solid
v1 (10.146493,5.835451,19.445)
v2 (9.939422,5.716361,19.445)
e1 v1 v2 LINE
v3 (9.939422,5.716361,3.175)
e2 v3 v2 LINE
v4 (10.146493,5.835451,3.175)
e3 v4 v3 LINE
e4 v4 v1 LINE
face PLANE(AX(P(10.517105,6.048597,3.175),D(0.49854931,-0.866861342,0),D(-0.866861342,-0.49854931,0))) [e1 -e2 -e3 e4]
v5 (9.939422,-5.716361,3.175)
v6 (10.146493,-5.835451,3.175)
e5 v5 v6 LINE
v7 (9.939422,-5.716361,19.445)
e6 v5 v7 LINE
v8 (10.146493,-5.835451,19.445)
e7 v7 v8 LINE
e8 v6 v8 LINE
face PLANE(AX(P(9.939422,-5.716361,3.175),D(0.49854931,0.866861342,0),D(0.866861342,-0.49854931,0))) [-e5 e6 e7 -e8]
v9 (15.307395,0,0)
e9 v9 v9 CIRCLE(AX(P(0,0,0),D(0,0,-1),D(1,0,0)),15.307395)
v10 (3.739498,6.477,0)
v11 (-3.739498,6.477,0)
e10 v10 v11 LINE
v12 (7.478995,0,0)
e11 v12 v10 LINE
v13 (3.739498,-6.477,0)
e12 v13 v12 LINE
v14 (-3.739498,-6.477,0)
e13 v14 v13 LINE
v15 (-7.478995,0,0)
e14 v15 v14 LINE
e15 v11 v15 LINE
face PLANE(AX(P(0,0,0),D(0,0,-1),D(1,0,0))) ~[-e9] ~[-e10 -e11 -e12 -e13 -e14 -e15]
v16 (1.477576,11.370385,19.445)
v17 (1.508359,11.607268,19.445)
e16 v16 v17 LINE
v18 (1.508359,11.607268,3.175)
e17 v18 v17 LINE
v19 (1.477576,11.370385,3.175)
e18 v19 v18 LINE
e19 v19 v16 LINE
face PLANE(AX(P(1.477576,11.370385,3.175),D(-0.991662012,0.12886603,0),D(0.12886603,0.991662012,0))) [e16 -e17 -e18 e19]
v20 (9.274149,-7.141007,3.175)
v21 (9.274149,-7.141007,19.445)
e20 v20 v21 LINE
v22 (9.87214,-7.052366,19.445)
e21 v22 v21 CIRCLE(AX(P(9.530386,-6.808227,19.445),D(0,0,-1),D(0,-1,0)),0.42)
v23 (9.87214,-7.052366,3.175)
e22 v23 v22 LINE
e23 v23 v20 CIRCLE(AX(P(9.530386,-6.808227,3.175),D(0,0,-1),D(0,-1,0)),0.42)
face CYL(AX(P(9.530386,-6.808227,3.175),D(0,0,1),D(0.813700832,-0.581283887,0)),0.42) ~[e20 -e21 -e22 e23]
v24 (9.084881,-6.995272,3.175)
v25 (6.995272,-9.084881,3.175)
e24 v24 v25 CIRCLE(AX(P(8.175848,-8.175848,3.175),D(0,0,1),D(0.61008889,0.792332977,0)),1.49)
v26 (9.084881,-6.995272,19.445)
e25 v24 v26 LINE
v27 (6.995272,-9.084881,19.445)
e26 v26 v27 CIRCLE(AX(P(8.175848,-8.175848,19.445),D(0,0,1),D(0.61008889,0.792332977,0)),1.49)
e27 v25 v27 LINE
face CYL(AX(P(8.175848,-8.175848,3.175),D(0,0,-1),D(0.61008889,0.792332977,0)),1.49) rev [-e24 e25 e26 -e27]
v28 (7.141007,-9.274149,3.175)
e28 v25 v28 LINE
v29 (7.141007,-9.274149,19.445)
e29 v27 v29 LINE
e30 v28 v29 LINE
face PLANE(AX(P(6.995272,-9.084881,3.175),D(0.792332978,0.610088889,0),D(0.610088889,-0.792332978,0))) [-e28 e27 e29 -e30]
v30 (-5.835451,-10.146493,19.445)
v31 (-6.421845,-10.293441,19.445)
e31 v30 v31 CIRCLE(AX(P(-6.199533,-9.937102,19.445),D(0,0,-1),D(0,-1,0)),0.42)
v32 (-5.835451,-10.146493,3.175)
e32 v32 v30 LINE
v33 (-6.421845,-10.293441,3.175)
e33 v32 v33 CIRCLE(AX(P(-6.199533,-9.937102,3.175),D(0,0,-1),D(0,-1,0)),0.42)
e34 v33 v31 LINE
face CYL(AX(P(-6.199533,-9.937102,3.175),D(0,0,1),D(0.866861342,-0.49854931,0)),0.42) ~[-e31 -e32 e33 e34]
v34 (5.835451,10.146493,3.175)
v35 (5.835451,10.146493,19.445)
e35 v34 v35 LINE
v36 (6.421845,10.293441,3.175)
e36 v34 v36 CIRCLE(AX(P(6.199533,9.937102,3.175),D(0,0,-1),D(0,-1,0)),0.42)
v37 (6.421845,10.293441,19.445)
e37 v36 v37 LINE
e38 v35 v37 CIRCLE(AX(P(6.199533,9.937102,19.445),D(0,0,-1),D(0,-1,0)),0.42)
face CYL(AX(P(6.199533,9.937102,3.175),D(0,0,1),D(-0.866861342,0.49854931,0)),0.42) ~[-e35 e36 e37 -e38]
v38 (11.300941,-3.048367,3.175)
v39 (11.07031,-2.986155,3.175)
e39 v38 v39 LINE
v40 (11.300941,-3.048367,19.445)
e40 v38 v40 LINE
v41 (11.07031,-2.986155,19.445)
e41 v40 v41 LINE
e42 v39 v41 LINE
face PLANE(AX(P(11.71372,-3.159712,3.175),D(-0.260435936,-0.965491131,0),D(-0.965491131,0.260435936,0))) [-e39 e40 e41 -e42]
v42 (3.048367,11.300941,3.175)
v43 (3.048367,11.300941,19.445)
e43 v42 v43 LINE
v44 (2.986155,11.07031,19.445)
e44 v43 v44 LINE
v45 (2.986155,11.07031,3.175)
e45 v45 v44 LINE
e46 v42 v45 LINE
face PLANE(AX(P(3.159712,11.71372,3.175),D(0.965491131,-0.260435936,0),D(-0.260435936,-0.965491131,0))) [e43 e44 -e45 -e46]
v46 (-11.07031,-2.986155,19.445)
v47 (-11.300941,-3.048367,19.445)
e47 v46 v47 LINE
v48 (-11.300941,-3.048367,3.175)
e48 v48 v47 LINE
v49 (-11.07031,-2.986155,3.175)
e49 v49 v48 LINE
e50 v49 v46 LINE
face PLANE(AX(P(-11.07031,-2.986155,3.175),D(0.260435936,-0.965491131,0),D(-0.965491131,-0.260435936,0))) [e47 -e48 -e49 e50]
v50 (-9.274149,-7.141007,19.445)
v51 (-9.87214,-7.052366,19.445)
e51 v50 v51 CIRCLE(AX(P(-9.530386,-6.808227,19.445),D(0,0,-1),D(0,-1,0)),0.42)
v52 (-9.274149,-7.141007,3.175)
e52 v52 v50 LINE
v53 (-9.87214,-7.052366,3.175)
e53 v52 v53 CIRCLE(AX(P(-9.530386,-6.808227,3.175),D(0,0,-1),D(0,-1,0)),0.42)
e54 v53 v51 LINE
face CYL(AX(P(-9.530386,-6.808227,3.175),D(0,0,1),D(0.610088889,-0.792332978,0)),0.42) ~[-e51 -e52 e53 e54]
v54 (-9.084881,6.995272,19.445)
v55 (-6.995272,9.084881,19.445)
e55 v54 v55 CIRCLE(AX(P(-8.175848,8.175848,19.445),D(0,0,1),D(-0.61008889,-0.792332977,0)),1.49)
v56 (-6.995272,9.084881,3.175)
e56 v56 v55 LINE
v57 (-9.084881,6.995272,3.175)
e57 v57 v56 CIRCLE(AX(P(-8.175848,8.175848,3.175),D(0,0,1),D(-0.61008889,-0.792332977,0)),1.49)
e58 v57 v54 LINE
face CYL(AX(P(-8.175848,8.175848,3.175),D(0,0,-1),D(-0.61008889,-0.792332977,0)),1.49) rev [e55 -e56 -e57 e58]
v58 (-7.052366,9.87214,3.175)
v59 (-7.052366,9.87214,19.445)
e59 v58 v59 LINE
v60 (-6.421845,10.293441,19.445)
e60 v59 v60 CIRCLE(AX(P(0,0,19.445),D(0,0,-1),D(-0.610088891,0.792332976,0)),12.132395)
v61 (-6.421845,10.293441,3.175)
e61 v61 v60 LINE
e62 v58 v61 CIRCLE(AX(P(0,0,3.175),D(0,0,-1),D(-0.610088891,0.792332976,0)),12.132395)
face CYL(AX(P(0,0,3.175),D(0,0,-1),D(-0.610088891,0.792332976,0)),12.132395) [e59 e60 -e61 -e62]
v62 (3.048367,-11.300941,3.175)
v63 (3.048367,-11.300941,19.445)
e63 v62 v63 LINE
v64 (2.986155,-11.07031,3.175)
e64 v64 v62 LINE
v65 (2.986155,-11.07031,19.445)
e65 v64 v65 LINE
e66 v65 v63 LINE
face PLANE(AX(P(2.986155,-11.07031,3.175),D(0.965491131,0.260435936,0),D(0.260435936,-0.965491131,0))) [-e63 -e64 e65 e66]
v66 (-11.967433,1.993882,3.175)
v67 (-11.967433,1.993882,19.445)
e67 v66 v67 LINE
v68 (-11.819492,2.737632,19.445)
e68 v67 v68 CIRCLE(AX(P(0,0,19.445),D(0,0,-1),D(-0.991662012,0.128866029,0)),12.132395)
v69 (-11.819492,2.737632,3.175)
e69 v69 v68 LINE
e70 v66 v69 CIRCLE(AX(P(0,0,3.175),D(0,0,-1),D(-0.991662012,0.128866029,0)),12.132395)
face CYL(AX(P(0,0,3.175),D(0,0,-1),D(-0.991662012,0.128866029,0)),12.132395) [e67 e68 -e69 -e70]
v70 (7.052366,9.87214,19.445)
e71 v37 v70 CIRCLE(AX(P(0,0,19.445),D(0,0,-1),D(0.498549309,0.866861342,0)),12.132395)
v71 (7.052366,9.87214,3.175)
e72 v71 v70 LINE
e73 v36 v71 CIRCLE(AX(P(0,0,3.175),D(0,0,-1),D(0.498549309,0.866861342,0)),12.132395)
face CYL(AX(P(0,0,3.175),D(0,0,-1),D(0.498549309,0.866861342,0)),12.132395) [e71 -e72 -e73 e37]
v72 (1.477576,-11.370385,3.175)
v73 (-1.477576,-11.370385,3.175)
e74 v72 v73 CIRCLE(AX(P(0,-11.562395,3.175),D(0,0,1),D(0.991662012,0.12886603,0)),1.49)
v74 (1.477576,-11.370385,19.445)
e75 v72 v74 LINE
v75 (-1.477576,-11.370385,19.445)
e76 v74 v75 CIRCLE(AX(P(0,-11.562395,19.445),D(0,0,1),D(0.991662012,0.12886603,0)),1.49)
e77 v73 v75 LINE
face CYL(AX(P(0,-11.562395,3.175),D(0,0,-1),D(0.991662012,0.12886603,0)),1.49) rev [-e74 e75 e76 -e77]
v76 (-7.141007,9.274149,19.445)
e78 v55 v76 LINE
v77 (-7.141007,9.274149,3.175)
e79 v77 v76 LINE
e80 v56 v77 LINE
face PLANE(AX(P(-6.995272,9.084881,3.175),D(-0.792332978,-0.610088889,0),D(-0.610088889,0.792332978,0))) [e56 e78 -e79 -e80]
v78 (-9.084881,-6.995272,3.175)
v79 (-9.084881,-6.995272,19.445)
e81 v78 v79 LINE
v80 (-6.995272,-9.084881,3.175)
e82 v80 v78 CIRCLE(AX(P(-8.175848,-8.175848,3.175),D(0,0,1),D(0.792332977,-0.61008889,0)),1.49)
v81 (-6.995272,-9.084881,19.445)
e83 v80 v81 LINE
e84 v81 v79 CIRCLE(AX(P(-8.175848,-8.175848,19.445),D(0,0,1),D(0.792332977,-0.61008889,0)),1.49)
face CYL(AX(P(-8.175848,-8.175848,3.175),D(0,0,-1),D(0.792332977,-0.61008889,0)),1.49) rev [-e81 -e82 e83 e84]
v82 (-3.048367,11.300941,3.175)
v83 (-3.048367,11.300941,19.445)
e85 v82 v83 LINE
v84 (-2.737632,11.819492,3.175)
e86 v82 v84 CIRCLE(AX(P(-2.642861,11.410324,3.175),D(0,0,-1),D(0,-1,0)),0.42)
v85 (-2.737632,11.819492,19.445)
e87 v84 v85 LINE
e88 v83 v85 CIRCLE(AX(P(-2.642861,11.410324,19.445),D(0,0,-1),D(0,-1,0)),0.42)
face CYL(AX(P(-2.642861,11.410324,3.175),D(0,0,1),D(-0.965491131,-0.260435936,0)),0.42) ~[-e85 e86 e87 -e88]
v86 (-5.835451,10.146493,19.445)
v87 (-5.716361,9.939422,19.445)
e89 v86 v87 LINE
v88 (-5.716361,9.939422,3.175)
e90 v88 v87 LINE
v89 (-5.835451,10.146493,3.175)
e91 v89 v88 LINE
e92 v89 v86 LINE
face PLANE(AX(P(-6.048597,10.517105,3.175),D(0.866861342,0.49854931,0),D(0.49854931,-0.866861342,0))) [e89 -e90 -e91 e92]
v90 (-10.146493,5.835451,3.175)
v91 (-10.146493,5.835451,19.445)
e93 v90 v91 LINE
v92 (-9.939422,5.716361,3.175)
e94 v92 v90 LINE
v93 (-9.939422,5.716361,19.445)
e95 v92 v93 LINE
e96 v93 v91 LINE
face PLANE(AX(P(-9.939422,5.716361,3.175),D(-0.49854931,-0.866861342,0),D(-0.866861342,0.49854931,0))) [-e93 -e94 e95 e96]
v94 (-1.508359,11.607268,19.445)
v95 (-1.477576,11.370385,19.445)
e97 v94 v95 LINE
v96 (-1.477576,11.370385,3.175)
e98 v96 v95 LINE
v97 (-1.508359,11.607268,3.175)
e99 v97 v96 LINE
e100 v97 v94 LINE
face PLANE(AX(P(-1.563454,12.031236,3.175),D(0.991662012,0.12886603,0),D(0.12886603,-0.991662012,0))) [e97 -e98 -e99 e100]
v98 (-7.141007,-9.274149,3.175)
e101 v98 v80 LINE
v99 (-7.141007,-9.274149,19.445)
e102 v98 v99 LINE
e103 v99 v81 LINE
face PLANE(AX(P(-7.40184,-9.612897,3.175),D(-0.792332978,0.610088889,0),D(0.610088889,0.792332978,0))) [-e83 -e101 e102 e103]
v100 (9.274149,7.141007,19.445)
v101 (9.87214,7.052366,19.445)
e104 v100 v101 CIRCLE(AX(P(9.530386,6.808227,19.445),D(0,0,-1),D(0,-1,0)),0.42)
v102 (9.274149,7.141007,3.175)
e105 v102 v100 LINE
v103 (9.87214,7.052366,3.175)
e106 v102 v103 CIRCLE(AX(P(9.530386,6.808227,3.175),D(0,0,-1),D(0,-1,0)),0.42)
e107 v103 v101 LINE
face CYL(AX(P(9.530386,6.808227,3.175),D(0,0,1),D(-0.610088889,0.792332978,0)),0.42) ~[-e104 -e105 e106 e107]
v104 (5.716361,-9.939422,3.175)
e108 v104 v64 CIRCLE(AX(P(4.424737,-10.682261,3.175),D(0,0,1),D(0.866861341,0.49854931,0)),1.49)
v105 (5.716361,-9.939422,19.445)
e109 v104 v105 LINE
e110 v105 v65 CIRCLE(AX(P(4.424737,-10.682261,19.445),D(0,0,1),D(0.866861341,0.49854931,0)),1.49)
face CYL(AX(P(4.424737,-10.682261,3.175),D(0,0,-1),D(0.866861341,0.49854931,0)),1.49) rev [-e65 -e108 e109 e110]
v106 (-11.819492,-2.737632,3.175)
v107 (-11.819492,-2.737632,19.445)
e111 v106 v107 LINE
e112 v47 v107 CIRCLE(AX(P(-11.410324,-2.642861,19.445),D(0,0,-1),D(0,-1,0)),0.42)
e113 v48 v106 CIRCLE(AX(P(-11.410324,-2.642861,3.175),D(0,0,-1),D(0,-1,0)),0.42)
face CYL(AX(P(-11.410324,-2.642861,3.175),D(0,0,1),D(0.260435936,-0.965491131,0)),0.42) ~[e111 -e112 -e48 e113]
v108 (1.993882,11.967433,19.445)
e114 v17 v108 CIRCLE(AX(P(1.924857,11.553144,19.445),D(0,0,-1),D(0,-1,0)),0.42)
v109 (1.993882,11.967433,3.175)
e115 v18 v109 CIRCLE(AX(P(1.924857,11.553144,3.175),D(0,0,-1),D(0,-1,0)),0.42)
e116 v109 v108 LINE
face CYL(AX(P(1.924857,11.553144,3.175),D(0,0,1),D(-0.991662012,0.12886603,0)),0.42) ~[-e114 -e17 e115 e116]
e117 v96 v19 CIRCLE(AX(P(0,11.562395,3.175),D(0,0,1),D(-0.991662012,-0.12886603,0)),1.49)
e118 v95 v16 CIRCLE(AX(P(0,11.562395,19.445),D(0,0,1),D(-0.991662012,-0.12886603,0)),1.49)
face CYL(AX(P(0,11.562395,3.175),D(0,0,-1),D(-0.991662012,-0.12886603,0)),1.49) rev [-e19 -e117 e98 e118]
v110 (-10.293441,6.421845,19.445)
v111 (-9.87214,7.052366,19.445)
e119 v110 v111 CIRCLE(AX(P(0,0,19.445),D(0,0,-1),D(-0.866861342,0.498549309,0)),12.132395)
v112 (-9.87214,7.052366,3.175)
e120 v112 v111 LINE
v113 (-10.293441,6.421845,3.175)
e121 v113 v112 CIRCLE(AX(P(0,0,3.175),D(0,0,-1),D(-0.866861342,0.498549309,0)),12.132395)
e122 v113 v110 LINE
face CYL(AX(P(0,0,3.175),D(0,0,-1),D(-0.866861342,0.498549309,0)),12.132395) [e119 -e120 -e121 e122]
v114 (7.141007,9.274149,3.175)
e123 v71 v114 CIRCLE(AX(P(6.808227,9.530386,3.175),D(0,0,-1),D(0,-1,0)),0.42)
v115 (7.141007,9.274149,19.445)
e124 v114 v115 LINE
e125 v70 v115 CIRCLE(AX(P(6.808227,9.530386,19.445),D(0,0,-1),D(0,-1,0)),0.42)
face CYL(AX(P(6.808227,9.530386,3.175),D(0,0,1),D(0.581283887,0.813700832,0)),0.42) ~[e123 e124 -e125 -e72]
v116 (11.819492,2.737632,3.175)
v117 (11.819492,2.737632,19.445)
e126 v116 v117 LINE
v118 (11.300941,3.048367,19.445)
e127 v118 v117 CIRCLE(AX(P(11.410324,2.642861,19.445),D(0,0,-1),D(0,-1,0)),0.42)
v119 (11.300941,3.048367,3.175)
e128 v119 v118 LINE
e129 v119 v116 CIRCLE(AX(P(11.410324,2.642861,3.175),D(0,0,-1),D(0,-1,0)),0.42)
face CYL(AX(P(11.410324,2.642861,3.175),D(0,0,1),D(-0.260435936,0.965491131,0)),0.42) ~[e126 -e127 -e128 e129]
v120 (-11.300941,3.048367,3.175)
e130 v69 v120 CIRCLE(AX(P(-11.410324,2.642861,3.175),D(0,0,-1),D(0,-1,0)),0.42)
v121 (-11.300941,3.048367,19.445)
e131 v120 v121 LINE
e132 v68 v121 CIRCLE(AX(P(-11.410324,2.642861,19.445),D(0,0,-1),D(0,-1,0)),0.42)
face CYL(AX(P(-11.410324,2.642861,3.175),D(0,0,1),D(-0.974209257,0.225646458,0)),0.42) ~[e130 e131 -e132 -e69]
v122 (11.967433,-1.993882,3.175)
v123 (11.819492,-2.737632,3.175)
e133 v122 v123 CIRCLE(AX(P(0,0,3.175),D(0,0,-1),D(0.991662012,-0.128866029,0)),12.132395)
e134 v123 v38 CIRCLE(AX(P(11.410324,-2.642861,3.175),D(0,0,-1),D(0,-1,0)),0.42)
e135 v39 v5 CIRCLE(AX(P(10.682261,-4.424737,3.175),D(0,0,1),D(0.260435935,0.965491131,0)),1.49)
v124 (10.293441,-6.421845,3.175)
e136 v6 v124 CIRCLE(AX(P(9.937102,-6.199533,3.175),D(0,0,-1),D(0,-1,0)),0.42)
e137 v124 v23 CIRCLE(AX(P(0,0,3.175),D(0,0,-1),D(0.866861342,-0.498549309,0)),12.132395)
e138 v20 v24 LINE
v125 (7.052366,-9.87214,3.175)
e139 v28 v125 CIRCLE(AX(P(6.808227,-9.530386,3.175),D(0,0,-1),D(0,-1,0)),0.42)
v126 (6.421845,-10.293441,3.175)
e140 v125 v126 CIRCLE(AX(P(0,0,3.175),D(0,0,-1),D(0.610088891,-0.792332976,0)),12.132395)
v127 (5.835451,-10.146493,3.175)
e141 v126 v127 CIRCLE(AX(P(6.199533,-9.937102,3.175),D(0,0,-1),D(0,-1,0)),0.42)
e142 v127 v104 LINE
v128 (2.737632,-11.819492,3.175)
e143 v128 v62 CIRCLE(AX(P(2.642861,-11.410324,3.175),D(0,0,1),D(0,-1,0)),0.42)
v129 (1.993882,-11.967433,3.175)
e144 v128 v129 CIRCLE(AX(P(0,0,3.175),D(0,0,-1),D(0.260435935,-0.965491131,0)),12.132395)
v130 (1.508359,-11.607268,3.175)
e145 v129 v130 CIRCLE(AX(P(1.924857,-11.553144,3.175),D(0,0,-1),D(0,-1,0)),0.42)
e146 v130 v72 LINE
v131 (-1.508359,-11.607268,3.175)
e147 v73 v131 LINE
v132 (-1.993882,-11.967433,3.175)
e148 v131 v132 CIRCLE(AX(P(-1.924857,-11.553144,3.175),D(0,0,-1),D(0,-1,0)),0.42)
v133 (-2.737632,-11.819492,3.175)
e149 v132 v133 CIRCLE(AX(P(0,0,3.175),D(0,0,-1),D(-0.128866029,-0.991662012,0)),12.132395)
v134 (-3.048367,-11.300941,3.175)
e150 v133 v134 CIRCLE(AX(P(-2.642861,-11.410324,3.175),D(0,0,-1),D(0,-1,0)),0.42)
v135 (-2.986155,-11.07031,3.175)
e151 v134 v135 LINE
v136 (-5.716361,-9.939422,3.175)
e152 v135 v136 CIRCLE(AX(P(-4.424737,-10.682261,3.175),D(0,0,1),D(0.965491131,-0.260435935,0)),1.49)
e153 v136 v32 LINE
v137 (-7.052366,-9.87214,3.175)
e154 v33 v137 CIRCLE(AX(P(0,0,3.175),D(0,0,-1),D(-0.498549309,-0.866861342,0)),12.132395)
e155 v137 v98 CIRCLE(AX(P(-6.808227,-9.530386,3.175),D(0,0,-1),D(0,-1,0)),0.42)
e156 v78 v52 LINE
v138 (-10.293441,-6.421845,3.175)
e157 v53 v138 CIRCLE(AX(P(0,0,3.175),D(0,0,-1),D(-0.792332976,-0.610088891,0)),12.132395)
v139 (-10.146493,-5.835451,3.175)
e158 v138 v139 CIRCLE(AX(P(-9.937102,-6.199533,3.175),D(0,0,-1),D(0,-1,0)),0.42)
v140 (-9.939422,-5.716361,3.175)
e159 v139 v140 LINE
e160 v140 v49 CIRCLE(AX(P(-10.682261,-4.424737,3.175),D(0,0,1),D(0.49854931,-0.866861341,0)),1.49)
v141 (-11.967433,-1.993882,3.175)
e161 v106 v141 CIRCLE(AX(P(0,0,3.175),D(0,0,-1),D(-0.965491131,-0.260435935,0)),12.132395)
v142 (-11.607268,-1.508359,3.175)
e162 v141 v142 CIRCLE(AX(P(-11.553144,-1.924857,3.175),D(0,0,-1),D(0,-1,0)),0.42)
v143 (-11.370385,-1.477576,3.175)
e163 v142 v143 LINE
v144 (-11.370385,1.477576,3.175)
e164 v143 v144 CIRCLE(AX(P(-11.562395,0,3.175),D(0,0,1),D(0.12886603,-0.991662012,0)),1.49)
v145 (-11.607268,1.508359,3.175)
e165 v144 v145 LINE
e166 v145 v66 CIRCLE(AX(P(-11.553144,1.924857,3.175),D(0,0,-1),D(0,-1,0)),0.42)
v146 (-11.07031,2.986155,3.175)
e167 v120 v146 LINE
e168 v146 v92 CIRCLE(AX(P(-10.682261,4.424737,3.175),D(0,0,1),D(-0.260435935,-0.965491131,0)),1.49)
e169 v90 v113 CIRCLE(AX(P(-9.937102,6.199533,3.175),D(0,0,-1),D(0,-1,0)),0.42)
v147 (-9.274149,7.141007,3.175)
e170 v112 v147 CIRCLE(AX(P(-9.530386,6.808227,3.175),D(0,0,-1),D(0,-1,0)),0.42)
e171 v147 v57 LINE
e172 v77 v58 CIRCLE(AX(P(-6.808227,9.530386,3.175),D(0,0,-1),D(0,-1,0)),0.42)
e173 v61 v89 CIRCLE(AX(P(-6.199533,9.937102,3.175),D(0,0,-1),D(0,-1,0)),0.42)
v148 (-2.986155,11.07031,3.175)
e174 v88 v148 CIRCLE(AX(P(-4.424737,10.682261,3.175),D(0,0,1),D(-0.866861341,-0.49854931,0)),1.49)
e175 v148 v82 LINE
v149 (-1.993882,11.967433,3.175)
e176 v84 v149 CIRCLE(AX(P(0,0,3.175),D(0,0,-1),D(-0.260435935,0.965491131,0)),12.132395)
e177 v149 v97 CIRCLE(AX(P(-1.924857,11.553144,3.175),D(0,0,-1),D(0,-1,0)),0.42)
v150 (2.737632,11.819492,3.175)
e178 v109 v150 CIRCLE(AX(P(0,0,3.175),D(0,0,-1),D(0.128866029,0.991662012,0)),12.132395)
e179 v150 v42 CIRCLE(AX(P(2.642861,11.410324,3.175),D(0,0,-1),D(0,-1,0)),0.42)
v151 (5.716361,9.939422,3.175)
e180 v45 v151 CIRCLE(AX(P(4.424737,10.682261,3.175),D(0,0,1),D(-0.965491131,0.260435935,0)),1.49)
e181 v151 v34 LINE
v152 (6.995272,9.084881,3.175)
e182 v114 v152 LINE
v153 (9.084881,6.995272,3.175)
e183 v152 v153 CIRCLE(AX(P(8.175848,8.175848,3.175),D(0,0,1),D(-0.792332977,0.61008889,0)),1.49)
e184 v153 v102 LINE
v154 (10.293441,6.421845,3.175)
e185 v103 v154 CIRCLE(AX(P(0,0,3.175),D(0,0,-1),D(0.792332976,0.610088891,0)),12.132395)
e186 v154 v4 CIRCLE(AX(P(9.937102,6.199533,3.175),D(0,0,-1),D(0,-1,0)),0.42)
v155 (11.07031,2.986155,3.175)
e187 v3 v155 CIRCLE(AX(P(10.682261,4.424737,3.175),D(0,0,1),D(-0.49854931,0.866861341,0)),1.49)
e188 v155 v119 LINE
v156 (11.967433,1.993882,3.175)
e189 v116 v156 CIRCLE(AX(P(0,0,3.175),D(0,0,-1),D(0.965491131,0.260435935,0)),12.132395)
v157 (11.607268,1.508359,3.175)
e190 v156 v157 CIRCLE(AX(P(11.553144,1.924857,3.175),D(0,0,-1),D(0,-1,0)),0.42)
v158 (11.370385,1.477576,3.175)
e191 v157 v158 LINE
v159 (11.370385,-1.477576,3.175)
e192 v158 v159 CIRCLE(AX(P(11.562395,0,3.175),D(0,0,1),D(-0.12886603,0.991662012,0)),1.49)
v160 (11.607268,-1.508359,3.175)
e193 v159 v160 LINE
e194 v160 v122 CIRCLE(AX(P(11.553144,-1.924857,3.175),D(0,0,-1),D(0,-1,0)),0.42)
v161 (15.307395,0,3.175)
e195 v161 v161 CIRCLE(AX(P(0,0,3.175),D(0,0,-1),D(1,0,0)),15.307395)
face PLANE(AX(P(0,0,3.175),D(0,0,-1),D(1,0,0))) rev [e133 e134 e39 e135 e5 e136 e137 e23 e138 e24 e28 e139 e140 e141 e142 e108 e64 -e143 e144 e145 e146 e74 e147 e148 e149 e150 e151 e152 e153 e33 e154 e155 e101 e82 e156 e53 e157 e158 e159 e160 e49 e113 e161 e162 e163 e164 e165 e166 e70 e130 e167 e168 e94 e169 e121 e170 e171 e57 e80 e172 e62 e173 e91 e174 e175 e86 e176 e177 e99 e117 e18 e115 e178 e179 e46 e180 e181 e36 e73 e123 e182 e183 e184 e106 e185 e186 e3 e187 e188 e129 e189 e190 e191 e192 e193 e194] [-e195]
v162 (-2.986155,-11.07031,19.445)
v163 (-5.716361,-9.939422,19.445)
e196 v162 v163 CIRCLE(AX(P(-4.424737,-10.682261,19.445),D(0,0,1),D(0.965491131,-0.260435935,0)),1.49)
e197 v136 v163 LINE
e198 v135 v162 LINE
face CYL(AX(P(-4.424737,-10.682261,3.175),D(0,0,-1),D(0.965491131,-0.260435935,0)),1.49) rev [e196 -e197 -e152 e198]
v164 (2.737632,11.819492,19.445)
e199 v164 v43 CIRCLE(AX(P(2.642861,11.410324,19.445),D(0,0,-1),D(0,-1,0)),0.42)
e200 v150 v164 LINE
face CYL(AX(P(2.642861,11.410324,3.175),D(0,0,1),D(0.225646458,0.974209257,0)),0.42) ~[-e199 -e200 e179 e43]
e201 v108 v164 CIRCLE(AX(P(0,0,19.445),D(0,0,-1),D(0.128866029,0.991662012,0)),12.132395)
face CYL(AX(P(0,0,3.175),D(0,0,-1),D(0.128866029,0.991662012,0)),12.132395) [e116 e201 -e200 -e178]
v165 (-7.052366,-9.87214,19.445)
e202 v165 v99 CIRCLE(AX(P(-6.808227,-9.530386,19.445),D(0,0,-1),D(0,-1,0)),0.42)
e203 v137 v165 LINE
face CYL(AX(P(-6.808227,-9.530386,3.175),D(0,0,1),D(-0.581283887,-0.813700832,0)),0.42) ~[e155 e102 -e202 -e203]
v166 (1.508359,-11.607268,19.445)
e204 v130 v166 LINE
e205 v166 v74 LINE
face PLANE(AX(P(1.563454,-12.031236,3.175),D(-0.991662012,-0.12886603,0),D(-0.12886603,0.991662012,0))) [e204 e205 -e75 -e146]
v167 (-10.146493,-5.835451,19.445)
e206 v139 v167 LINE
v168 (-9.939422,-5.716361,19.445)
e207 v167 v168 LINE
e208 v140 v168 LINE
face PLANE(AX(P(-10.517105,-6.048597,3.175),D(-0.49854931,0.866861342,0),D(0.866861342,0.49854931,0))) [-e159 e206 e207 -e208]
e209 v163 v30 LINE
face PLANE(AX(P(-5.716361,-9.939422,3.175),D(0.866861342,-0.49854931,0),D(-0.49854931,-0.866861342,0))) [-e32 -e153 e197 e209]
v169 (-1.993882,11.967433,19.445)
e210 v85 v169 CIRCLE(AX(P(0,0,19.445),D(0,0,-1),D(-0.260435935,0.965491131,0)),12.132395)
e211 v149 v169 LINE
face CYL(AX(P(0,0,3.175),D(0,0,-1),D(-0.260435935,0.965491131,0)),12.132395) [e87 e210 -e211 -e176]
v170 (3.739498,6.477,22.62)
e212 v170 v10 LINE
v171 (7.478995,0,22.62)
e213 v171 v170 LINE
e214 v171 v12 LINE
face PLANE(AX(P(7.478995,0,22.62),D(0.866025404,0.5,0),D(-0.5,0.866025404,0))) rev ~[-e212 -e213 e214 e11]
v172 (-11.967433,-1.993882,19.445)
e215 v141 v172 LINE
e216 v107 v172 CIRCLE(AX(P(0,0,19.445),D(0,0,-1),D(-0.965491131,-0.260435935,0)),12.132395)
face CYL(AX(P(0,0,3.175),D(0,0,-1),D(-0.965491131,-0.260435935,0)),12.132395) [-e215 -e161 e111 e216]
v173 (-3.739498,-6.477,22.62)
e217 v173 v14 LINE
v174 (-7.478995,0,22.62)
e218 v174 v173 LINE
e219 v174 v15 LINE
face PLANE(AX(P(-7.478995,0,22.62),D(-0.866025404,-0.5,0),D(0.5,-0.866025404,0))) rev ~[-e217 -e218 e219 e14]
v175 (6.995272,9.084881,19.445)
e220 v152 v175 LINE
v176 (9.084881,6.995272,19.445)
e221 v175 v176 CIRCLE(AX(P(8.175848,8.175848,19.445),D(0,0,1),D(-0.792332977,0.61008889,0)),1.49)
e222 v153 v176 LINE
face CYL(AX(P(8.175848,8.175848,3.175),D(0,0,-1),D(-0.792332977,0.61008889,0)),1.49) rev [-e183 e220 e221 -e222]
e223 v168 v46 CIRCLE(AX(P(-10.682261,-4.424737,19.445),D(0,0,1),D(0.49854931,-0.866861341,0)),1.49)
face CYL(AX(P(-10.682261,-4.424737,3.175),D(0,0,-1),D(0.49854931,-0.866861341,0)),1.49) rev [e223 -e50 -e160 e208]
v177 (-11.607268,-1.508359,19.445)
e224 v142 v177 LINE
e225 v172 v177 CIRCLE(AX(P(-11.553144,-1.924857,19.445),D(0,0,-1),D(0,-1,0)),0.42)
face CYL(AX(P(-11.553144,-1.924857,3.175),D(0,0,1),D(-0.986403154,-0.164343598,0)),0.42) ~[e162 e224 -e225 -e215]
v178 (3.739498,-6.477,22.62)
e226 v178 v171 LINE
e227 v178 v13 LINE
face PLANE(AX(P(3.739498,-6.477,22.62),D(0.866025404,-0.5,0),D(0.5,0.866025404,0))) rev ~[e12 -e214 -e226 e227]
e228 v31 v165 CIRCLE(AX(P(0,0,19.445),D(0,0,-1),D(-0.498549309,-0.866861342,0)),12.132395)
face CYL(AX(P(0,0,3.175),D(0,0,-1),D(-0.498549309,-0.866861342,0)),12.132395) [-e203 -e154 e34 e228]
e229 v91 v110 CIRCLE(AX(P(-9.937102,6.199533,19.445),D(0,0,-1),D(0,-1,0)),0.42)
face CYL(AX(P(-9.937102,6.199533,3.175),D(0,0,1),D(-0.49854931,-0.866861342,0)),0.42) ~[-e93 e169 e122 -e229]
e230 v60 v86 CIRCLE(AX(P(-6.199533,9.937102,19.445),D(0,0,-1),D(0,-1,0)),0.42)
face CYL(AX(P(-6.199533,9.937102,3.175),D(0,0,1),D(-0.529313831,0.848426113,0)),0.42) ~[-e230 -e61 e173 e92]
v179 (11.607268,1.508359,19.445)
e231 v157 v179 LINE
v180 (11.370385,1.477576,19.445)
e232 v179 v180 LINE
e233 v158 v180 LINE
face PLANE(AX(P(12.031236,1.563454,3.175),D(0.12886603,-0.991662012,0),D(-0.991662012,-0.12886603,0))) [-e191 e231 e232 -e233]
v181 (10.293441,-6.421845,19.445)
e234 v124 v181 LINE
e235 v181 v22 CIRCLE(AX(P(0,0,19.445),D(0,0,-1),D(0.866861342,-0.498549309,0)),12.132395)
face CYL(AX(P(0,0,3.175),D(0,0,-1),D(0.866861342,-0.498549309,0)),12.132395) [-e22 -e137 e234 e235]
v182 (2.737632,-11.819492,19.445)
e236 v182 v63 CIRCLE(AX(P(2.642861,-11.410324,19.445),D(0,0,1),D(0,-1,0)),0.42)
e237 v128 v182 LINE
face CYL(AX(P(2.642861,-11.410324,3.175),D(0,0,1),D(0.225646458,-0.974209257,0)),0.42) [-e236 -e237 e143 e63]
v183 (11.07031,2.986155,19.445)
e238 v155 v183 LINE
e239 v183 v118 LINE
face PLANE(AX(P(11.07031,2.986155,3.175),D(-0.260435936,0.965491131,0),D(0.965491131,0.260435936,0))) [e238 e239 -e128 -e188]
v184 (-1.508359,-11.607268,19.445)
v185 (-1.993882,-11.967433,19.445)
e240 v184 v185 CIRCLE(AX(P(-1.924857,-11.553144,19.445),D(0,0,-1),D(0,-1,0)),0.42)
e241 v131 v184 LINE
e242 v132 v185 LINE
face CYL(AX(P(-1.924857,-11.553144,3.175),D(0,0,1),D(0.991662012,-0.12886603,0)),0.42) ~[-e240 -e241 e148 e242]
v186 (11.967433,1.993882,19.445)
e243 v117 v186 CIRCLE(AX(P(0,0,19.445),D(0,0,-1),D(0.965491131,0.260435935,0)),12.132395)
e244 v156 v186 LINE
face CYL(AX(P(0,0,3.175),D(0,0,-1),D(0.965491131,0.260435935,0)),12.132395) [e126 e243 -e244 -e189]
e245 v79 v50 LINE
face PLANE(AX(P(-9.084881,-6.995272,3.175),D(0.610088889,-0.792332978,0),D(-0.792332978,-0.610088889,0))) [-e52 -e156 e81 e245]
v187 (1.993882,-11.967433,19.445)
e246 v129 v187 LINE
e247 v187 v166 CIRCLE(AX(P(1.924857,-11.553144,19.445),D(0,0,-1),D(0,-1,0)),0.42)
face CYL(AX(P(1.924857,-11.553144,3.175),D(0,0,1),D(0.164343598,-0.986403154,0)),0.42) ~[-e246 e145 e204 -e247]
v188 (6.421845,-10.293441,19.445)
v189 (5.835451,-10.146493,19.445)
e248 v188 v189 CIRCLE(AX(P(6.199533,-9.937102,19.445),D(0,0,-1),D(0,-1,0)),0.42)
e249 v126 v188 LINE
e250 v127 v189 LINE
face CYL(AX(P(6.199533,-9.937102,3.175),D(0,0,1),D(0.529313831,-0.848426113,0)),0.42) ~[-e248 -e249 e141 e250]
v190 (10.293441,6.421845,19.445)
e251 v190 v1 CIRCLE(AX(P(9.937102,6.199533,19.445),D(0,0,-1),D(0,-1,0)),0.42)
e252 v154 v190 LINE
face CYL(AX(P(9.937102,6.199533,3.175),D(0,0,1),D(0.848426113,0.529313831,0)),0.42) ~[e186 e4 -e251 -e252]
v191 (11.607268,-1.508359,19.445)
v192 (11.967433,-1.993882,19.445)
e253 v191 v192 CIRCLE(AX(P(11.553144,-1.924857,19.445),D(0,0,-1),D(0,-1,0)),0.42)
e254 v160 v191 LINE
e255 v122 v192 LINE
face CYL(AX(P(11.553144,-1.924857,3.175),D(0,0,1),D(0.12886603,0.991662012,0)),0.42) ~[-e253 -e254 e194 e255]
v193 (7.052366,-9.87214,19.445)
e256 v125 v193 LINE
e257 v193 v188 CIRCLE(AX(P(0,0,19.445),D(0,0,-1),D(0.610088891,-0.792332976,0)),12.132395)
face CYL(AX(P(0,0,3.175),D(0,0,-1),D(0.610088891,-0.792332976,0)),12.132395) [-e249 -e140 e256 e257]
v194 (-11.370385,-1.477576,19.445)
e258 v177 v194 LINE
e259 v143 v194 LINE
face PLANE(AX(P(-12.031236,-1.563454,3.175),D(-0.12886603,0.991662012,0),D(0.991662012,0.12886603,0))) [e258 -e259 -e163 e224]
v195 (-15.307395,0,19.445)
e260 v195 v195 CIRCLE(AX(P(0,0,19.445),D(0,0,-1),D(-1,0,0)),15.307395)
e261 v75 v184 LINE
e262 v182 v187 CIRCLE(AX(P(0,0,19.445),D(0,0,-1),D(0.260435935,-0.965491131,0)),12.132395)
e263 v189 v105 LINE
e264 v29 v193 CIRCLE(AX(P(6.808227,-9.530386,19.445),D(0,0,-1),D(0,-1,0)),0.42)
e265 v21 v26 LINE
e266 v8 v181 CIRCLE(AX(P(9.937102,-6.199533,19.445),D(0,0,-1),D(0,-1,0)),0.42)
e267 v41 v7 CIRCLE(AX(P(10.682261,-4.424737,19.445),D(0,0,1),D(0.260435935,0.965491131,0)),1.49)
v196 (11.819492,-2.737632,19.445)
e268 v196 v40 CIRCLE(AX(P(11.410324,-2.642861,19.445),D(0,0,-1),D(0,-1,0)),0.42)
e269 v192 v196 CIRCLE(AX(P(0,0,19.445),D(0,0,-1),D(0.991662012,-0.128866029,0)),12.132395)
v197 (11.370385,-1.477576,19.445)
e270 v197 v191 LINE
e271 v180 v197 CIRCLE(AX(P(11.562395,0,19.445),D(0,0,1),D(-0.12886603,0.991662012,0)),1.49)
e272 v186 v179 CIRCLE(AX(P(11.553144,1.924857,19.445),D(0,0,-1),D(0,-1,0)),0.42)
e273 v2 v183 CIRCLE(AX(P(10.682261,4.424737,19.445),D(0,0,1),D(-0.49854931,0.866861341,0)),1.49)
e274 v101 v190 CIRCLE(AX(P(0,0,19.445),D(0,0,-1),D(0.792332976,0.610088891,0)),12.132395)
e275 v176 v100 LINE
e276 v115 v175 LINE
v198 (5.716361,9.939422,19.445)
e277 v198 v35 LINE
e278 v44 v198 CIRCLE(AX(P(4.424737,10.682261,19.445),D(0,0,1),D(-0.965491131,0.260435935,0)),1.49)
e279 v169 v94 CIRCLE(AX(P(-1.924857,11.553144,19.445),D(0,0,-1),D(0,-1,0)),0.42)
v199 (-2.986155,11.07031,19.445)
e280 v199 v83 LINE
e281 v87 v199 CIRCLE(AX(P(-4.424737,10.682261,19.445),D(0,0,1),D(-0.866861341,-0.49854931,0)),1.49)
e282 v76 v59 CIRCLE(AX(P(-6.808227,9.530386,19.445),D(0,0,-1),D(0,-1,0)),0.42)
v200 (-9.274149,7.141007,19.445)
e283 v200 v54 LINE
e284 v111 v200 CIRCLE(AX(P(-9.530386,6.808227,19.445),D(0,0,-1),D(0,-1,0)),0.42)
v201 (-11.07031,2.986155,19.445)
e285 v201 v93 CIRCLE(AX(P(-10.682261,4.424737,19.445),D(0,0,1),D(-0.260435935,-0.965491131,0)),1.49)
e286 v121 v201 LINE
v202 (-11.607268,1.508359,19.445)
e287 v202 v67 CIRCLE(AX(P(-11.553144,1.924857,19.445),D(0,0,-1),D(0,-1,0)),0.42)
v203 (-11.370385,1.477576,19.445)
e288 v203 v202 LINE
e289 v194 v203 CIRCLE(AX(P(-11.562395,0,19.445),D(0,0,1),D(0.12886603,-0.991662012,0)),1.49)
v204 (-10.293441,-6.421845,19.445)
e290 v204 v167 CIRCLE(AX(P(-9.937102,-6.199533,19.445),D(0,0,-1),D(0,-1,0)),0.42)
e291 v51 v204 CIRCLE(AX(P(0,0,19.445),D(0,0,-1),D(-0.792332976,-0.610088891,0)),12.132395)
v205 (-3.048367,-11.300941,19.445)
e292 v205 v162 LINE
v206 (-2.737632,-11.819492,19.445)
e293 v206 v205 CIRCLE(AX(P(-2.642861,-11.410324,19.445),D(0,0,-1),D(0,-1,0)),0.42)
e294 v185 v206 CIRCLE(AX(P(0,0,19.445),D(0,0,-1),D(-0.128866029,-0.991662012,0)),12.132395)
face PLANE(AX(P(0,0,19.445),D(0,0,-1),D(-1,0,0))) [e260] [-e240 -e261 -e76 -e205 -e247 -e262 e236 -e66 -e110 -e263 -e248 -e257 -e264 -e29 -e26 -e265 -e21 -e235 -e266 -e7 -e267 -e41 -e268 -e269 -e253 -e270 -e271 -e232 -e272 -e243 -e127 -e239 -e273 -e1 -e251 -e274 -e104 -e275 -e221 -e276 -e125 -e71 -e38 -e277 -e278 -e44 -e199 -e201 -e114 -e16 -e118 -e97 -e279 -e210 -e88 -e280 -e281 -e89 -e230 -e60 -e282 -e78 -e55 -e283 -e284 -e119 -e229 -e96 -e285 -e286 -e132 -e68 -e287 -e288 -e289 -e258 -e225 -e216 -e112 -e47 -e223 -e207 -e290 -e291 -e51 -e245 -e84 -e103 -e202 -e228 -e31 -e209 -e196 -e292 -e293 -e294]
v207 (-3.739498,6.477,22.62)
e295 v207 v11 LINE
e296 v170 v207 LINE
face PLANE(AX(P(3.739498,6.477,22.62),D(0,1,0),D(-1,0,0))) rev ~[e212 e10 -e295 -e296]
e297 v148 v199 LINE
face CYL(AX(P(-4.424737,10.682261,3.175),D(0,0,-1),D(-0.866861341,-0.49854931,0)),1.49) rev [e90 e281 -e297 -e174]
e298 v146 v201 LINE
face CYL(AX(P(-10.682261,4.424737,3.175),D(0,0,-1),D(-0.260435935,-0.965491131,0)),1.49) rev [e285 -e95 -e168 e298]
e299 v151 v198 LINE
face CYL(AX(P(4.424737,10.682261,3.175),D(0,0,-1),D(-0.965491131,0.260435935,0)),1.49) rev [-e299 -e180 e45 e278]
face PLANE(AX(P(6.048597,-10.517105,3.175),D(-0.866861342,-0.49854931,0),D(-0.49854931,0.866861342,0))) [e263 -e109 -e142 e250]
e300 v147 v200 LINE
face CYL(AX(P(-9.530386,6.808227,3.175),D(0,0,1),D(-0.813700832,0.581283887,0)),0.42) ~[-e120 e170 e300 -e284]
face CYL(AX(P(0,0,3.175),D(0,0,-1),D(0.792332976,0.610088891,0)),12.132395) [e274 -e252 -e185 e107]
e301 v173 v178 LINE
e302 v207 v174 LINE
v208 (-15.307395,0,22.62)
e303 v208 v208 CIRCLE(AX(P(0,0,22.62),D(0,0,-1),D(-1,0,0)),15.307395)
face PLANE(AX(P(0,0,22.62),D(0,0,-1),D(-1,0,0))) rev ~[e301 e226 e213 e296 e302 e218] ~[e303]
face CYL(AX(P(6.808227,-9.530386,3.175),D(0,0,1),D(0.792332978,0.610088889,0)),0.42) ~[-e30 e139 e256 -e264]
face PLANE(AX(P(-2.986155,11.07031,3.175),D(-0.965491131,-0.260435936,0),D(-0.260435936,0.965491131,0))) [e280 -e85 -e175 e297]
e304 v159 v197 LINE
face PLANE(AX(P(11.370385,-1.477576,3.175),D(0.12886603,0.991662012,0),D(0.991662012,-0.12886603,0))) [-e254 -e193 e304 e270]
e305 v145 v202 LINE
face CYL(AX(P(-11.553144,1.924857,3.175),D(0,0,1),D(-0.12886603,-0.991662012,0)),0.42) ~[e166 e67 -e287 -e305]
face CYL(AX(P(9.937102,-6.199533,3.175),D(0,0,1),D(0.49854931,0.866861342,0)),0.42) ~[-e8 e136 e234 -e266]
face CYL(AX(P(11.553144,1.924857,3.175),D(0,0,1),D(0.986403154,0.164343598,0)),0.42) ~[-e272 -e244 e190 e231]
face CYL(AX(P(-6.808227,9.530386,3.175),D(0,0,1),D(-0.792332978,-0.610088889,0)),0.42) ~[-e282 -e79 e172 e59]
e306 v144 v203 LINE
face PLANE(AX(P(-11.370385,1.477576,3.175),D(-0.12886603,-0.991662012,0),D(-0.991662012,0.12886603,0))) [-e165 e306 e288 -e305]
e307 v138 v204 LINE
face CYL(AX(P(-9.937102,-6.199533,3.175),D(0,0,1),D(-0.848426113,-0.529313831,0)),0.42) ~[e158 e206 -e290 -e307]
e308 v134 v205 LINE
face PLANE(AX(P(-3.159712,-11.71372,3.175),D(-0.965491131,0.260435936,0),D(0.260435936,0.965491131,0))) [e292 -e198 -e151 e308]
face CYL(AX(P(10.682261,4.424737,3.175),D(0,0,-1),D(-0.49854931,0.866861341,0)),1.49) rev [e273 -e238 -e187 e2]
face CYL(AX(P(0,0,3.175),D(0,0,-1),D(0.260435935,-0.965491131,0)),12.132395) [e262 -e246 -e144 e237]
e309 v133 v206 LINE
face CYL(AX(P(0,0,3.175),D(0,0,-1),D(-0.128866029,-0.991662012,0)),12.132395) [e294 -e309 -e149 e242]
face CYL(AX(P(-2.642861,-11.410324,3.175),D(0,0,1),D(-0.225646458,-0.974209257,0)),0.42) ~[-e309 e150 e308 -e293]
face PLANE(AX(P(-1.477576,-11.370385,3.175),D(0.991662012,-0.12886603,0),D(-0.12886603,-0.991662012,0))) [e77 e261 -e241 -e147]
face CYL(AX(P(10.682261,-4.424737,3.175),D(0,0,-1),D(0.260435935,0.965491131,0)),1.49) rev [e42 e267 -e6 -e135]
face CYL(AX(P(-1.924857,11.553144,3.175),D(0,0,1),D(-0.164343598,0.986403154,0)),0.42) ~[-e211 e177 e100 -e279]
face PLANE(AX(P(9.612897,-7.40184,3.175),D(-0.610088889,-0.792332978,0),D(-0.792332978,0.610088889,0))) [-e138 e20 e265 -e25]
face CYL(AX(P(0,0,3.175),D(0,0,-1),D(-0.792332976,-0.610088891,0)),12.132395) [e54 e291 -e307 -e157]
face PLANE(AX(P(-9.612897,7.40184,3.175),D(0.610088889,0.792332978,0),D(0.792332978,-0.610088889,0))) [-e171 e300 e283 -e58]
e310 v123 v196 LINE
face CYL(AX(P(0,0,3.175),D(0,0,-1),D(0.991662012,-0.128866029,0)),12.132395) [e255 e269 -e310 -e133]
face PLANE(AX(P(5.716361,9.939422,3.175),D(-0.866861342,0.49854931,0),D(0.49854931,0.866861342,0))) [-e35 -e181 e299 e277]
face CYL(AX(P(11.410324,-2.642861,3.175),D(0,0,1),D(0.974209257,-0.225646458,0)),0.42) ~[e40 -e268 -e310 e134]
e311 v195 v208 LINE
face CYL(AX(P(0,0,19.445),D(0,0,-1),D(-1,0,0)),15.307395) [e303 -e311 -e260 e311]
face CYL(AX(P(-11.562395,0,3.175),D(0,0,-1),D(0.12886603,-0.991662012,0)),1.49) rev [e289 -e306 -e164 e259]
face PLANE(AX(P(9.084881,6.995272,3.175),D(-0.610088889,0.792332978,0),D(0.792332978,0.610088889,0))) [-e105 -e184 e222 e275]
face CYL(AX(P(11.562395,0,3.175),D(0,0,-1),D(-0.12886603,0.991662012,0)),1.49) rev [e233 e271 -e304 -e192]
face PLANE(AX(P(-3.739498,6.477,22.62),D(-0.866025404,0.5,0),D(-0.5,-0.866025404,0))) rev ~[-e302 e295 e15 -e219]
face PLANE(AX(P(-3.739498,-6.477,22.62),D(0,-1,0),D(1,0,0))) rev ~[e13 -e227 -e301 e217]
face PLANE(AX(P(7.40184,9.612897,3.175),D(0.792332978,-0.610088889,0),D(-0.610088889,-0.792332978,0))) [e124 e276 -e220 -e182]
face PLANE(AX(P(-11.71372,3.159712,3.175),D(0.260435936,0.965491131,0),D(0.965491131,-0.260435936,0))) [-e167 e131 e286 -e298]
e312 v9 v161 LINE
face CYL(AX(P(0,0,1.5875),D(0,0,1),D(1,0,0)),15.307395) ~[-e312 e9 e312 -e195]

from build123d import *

# Parameters (mm, degrees)
SKETCH1_W           = 15.307395447
SKETCH1_H           = 3.175
BOSS_EXTRUDE1_DEPTH = 16.27
SKETCH3_R           = 15.307395447
BOSS_EXTRUDE2_DEPTH = 3.175
CUT_EXTRUDE1_DEPTH  = 23.62
FILLET1_R           = 0.42


with BuildPart() as part:
    # Sketch1 → Revolve1 (revolve)
    with BuildSketch(Plane.XZ):
        with Locations((7.653697724, 1.5875)):
            Rectangle(SKETCH1_W, SKETCH1_H)
    revolve(axis=Axis((0, 0, 3.175), (0, 0, -1)))

    # Sketch2 → Boss-Extrude1 (add)
    with BuildSketch(Plane.XY.offset(3.175)):
        with BuildLine():
            Line((1.563453637, -12.031235681), (1.477576398, -11.370385062))
            ThreePointArc((1.477576398, -11.370385062), (0, -10.072395447), (-1.477576398, -11.370385062))
            Line((-1.477576398, -11.370385062), (-1.563453637, -12.031235681))
            ThreePointArc((-1.563453637, -12.031235681), (-2.366912935, -11.899274871), (-3.159711751, -11.713720201))
            Line((-3.159711751, -11.713720201), (-2.986155391, -11.070310044))
            ThreePointArc((-2.986155391, -11.070310044), (-3.854538862, -9.305679997), (-5.716360575, -9.939422028))
            Line((-5.716360575, -9.939422028), (-6.048597381, -10.517104592))
            ThreePointArc((-6.048597381, -10.517104592), (-6.740397766, -10.087718139), (-7.401839667, -9.612897005))
            Line((-7.401839667, -9.612897005), (-6.995272092, -9.084880673))
            ThreePointArc((-6.995272092, -9.084880673), (-7.122259124, -7.122259124), (-9.084880673, -6.995272092))
            Line((-9.084880673, -6.995272092), (-9.612897005, -7.401839667))
            ThreePointArc((-9.612897005, -7.401839667), (-10.087718139, -6.740397766), (-10.517104592, -6.048597381))
            Line((-10.517104592, -6.048597381), (-9.939422028, -5.716360575))
            ThreePointArc((-9.939422028, -5.716360575), (-9.305679997, -3.854538862), (-11.070310044, -2.986155391))
            Line((-11.070310044, -2.986155391), (-11.713720201, -3.159711751))
            ThreePointArc((-11.713720201, -3.159711751), (-11.899274871, -2.366912935), (-12.031235681, -1.563453637))
            Line((-12.031235681, -1.563453637), (-11.370385062, -1.477576398))
            ThreePointArc((-11.370385062, -1.477576398), (-10.072395447, 0), (-11.370385062, 1.477576398))
            Line((-11.370385062, 1.477576398), (-12.031235681, 1.563453637))
            ThreePointArc((-12.031235681, 1.563453637), (-11.899274871, 2.366912935), (-11.713720201, 3.159711751))
            Line((-11.713720201, 3.159711751), (-11.070310044, 2.986155391))
            ThreePointArc((-11.070310044, 2.986155391), (-9.305679997, 3.854538862), (-9.939422028, 5.716360575))
            Line((-9.939422028, 5.716360575), (-10.517104592, 6.048597381))
            ThreePointArc((-10.517104592, 6.048597381), (-10.087718139, 6.740397766), (-9.612897005, 7.401839667))
            Line((-9.612897005, 7.401839667), (-9.084880673, 6.995272092))
            ThreePointArc((-9.084880673, 6.995272092), (-7.122259124, 7.122259124), (-6.995272092, 9.084880673))
            Line((-6.995272092, 9.084880673), (-7.401839667, 9.612897005))
            ThreePointArc((-7.401839667, 9.612897005), (-6.740397766, 10.087718139), (-6.048597381, 10.517104592))
            Line((-6.048597381, 10.517104592), (-5.716360575, 9.939422028))
            ThreePointArc((-5.716360575, 9.939422028), (-3.854538862, 9.305679997), (-2.986155391, 11.070310044))
            Line((-2.986155391, 11.070310044), (-3.159711751, 11.713720201))
            ThreePointArc((-3.159711751, 11.713720201), (-2.366912935, 11.899274871), (-1.563453637, 12.031235681))
            Line((-1.563453637, 12.031235681), (-1.477576398, 11.370385062))
            ThreePointArc((-1.477576398, 11.370385062), (0, 10.072395447), (1.477576398, 11.370385062))
            Line((1.477576398, 11.370385062), (1.563453637, 12.031235681))
            ThreePointArc((1.563453637, 12.031235681), (2.366912935, 11.899274871), (3.159711751, 11.713720201))
            Line((3.159711751, 11.713720201), (2.986155391, 11.070310044))
            ThreePointArc((2.986155391, 11.070310044), (3.854538862, 9.305679997), (5.716360575, 9.939422028))
            Line((5.716360575, 9.939422028), (6.048597381, 10.517104592))
            ThreePointArc((6.048597381, 10.517104592), (6.740397766, 10.087718139), (7.401839667, 9.612897005))
            Line((7.401839667, 9.612897005), (6.995272092, 9.084880673))
            ThreePointArc((6.995272092, 9.084880673), (7.122259124, 7.122259124), (9.084880673, 6.995272092))
            Line((9.084880673, 6.995272092), (9.612897005, 7.401839667))
            ThreePointArc((9.612897005, 7.401839667), (10.087718139, 6.740397766), (10.517104592, 6.048597381))
            Line((10.517104592, 6.048597381), (9.939422028, 5.716360575))
            ThreePointArc((9.939422028, 5.716360575), (9.305679997, 3.854538862), (11.070310044, 2.986155391))
            Line((11.070310044, 2.986155391), (11.713720201, 3.159711751))
            ThreePointArc((11.713720201, 3.159711751), (11.899274871, 2.366912935), (12.031235681, 1.563453637))
            Line((12.031235681, 1.563453637), (11.370385062, 1.477576398))
            ThreePointArc((11.370385062, 1.477576398), (10.072395447, 0), (11.370385062, -1.477576398))
            Line((11.370385062, -1.477576398), (12.031235681, -1.563453637))
            ThreePointArc((12.031235681, -1.563453637), (11.899274871, -2.366912935), (11.713720201, -3.159711751))
            Line((11.713720201, -3.159711751), (11.070310044, -2.986155391))
            ThreePointArc((11.070310044, -2.986155391), (9.305679997, -3.854538862), (9.939422028, -5.716360575))
            Line((9.939422028, -5.716360575), (10.517104592, -6.048597381))
            ThreePointArc((10.517104592, -6.048597381), (10.087718139, -6.740397766), (9.612897005, -7.401839667))
            Line((9.612897005, -7.401839667), (9.084880673, -6.995272092))
            ThreePointArc((9.084880673, -6.995272092), (7.122259124, -7.122259124), (6.995272092, -9.084880673))
            Line((6.995272092, -9.084880673), (7.401839667, -9.612897005))
            ThreePointArc((7.401839667, -9.612897005), (6.740397766, -10.087718139), (6.048597381, -10.517104592))
            Line((6.048597381, -10.517104592), (5.716360575, -9.939422028))
            ThreePointArc((5.716360575, -9.939422028), (3.854538862, -9.305679997), (2.986155391, -11.070310044))
            Line((2.986155391, -11.070310044), (3.159711751, -11.713720201))
            ThreePointArc((3.159711751, -11.713720201), (2.366912935, -11.899274871), (1.563453637, -12.031235681))
        make_face()
    extrude(amount=BOSS_EXTRUDE1_DEPTH)

    # Sketch3 → Boss-Extrude2 (add)
    with BuildSketch(Plane(origin=(0, 0, 19.445), x_dir=(-1, 0, 0), z_dir=(0, 0, -1))):
        Circle(SKETCH3_R)
    extrude(amount=-BOSS_EXTRUDE2_DEPTH)

    # Sketch4 → Cut-Extrude1 (cut, through all)
    with BuildSketch(Plane.XY.offset(22.62)):
        Polygon((-7.478995387, 0), (-3.739497694, -6.477), (3.739497694, -6.477), (7.478995387, 0), (3.739497694, 6.477), (-3.739497694, 6.477), align=None)
    extrude(amount=-CUT_EXTRUDE1_DEPTH, mode=Mode.SUBTRACT)

    # Fillet1
    fillet1_edges = [part.edges().sort_by_distance(p)[0] for p in [
        (1.563453637, -12.031235681, 11.31),
        (3.159711751, -11.713720201, 11.31),
        (6.048597381, -10.517104592, 11.31),
        (7.401839667, -9.612897005, 11.31),
        (9.612897005, -7.401839667, 11.31),
        (10.517104592, -6.048597381, 11.31),
        (11.713720201, -3.159711751, 11.31),
        (12.031235681, -1.563453637, 11.31),
        (12.031235681, 1.563453637, 11.31),
        (11.713720201, 3.159711751, 11.31),
        (10.517104592, 6.048597381, 11.31),
        (9.612897005, 7.401839667, 11.31),
        (7.401839667, 9.612897005, 11.31),
        (6.048597381, 10.517104592, 11.31),
        (3.159711751, 11.713720201, 11.31),
        (1.563453637, 12.031235681, 11.31),
        (-1.563453637, 12.031235681, 11.31),
        (-3.159711751, 11.713720201, 11.31),
        (-6.048597381, 10.517104592, 11.31),
        (-7.401839667, 9.612897005, 11.31),
        (-9.612897005, 7.401839667, 11.31),
        (-10.517104592, 6.048597381, 11.31),
        (-11.713720201, 3.159711751, 11.31),
        (-12.031235681, 1.563453637, 11.31),
        (-12.031235681, -1.563453637, 11.31),
        (-11.713720201, -3.159711751, 11.31),
        (-10.517104592, -6.048597381, 11.31),
        (-9.612897005, -7.401839667, 11.31),
        (-7.401839667, -9.612897005, 11.31),
        (-6.048597381, -10.517104592, 11.31),
        (-3.159711751, -11.713720201, 11.31),
        (-1.563453637, -12.031235681, 11.31),
    ]]
    fillet(fillet1_edges, radius=FILLET1_R)


solid = part.part
